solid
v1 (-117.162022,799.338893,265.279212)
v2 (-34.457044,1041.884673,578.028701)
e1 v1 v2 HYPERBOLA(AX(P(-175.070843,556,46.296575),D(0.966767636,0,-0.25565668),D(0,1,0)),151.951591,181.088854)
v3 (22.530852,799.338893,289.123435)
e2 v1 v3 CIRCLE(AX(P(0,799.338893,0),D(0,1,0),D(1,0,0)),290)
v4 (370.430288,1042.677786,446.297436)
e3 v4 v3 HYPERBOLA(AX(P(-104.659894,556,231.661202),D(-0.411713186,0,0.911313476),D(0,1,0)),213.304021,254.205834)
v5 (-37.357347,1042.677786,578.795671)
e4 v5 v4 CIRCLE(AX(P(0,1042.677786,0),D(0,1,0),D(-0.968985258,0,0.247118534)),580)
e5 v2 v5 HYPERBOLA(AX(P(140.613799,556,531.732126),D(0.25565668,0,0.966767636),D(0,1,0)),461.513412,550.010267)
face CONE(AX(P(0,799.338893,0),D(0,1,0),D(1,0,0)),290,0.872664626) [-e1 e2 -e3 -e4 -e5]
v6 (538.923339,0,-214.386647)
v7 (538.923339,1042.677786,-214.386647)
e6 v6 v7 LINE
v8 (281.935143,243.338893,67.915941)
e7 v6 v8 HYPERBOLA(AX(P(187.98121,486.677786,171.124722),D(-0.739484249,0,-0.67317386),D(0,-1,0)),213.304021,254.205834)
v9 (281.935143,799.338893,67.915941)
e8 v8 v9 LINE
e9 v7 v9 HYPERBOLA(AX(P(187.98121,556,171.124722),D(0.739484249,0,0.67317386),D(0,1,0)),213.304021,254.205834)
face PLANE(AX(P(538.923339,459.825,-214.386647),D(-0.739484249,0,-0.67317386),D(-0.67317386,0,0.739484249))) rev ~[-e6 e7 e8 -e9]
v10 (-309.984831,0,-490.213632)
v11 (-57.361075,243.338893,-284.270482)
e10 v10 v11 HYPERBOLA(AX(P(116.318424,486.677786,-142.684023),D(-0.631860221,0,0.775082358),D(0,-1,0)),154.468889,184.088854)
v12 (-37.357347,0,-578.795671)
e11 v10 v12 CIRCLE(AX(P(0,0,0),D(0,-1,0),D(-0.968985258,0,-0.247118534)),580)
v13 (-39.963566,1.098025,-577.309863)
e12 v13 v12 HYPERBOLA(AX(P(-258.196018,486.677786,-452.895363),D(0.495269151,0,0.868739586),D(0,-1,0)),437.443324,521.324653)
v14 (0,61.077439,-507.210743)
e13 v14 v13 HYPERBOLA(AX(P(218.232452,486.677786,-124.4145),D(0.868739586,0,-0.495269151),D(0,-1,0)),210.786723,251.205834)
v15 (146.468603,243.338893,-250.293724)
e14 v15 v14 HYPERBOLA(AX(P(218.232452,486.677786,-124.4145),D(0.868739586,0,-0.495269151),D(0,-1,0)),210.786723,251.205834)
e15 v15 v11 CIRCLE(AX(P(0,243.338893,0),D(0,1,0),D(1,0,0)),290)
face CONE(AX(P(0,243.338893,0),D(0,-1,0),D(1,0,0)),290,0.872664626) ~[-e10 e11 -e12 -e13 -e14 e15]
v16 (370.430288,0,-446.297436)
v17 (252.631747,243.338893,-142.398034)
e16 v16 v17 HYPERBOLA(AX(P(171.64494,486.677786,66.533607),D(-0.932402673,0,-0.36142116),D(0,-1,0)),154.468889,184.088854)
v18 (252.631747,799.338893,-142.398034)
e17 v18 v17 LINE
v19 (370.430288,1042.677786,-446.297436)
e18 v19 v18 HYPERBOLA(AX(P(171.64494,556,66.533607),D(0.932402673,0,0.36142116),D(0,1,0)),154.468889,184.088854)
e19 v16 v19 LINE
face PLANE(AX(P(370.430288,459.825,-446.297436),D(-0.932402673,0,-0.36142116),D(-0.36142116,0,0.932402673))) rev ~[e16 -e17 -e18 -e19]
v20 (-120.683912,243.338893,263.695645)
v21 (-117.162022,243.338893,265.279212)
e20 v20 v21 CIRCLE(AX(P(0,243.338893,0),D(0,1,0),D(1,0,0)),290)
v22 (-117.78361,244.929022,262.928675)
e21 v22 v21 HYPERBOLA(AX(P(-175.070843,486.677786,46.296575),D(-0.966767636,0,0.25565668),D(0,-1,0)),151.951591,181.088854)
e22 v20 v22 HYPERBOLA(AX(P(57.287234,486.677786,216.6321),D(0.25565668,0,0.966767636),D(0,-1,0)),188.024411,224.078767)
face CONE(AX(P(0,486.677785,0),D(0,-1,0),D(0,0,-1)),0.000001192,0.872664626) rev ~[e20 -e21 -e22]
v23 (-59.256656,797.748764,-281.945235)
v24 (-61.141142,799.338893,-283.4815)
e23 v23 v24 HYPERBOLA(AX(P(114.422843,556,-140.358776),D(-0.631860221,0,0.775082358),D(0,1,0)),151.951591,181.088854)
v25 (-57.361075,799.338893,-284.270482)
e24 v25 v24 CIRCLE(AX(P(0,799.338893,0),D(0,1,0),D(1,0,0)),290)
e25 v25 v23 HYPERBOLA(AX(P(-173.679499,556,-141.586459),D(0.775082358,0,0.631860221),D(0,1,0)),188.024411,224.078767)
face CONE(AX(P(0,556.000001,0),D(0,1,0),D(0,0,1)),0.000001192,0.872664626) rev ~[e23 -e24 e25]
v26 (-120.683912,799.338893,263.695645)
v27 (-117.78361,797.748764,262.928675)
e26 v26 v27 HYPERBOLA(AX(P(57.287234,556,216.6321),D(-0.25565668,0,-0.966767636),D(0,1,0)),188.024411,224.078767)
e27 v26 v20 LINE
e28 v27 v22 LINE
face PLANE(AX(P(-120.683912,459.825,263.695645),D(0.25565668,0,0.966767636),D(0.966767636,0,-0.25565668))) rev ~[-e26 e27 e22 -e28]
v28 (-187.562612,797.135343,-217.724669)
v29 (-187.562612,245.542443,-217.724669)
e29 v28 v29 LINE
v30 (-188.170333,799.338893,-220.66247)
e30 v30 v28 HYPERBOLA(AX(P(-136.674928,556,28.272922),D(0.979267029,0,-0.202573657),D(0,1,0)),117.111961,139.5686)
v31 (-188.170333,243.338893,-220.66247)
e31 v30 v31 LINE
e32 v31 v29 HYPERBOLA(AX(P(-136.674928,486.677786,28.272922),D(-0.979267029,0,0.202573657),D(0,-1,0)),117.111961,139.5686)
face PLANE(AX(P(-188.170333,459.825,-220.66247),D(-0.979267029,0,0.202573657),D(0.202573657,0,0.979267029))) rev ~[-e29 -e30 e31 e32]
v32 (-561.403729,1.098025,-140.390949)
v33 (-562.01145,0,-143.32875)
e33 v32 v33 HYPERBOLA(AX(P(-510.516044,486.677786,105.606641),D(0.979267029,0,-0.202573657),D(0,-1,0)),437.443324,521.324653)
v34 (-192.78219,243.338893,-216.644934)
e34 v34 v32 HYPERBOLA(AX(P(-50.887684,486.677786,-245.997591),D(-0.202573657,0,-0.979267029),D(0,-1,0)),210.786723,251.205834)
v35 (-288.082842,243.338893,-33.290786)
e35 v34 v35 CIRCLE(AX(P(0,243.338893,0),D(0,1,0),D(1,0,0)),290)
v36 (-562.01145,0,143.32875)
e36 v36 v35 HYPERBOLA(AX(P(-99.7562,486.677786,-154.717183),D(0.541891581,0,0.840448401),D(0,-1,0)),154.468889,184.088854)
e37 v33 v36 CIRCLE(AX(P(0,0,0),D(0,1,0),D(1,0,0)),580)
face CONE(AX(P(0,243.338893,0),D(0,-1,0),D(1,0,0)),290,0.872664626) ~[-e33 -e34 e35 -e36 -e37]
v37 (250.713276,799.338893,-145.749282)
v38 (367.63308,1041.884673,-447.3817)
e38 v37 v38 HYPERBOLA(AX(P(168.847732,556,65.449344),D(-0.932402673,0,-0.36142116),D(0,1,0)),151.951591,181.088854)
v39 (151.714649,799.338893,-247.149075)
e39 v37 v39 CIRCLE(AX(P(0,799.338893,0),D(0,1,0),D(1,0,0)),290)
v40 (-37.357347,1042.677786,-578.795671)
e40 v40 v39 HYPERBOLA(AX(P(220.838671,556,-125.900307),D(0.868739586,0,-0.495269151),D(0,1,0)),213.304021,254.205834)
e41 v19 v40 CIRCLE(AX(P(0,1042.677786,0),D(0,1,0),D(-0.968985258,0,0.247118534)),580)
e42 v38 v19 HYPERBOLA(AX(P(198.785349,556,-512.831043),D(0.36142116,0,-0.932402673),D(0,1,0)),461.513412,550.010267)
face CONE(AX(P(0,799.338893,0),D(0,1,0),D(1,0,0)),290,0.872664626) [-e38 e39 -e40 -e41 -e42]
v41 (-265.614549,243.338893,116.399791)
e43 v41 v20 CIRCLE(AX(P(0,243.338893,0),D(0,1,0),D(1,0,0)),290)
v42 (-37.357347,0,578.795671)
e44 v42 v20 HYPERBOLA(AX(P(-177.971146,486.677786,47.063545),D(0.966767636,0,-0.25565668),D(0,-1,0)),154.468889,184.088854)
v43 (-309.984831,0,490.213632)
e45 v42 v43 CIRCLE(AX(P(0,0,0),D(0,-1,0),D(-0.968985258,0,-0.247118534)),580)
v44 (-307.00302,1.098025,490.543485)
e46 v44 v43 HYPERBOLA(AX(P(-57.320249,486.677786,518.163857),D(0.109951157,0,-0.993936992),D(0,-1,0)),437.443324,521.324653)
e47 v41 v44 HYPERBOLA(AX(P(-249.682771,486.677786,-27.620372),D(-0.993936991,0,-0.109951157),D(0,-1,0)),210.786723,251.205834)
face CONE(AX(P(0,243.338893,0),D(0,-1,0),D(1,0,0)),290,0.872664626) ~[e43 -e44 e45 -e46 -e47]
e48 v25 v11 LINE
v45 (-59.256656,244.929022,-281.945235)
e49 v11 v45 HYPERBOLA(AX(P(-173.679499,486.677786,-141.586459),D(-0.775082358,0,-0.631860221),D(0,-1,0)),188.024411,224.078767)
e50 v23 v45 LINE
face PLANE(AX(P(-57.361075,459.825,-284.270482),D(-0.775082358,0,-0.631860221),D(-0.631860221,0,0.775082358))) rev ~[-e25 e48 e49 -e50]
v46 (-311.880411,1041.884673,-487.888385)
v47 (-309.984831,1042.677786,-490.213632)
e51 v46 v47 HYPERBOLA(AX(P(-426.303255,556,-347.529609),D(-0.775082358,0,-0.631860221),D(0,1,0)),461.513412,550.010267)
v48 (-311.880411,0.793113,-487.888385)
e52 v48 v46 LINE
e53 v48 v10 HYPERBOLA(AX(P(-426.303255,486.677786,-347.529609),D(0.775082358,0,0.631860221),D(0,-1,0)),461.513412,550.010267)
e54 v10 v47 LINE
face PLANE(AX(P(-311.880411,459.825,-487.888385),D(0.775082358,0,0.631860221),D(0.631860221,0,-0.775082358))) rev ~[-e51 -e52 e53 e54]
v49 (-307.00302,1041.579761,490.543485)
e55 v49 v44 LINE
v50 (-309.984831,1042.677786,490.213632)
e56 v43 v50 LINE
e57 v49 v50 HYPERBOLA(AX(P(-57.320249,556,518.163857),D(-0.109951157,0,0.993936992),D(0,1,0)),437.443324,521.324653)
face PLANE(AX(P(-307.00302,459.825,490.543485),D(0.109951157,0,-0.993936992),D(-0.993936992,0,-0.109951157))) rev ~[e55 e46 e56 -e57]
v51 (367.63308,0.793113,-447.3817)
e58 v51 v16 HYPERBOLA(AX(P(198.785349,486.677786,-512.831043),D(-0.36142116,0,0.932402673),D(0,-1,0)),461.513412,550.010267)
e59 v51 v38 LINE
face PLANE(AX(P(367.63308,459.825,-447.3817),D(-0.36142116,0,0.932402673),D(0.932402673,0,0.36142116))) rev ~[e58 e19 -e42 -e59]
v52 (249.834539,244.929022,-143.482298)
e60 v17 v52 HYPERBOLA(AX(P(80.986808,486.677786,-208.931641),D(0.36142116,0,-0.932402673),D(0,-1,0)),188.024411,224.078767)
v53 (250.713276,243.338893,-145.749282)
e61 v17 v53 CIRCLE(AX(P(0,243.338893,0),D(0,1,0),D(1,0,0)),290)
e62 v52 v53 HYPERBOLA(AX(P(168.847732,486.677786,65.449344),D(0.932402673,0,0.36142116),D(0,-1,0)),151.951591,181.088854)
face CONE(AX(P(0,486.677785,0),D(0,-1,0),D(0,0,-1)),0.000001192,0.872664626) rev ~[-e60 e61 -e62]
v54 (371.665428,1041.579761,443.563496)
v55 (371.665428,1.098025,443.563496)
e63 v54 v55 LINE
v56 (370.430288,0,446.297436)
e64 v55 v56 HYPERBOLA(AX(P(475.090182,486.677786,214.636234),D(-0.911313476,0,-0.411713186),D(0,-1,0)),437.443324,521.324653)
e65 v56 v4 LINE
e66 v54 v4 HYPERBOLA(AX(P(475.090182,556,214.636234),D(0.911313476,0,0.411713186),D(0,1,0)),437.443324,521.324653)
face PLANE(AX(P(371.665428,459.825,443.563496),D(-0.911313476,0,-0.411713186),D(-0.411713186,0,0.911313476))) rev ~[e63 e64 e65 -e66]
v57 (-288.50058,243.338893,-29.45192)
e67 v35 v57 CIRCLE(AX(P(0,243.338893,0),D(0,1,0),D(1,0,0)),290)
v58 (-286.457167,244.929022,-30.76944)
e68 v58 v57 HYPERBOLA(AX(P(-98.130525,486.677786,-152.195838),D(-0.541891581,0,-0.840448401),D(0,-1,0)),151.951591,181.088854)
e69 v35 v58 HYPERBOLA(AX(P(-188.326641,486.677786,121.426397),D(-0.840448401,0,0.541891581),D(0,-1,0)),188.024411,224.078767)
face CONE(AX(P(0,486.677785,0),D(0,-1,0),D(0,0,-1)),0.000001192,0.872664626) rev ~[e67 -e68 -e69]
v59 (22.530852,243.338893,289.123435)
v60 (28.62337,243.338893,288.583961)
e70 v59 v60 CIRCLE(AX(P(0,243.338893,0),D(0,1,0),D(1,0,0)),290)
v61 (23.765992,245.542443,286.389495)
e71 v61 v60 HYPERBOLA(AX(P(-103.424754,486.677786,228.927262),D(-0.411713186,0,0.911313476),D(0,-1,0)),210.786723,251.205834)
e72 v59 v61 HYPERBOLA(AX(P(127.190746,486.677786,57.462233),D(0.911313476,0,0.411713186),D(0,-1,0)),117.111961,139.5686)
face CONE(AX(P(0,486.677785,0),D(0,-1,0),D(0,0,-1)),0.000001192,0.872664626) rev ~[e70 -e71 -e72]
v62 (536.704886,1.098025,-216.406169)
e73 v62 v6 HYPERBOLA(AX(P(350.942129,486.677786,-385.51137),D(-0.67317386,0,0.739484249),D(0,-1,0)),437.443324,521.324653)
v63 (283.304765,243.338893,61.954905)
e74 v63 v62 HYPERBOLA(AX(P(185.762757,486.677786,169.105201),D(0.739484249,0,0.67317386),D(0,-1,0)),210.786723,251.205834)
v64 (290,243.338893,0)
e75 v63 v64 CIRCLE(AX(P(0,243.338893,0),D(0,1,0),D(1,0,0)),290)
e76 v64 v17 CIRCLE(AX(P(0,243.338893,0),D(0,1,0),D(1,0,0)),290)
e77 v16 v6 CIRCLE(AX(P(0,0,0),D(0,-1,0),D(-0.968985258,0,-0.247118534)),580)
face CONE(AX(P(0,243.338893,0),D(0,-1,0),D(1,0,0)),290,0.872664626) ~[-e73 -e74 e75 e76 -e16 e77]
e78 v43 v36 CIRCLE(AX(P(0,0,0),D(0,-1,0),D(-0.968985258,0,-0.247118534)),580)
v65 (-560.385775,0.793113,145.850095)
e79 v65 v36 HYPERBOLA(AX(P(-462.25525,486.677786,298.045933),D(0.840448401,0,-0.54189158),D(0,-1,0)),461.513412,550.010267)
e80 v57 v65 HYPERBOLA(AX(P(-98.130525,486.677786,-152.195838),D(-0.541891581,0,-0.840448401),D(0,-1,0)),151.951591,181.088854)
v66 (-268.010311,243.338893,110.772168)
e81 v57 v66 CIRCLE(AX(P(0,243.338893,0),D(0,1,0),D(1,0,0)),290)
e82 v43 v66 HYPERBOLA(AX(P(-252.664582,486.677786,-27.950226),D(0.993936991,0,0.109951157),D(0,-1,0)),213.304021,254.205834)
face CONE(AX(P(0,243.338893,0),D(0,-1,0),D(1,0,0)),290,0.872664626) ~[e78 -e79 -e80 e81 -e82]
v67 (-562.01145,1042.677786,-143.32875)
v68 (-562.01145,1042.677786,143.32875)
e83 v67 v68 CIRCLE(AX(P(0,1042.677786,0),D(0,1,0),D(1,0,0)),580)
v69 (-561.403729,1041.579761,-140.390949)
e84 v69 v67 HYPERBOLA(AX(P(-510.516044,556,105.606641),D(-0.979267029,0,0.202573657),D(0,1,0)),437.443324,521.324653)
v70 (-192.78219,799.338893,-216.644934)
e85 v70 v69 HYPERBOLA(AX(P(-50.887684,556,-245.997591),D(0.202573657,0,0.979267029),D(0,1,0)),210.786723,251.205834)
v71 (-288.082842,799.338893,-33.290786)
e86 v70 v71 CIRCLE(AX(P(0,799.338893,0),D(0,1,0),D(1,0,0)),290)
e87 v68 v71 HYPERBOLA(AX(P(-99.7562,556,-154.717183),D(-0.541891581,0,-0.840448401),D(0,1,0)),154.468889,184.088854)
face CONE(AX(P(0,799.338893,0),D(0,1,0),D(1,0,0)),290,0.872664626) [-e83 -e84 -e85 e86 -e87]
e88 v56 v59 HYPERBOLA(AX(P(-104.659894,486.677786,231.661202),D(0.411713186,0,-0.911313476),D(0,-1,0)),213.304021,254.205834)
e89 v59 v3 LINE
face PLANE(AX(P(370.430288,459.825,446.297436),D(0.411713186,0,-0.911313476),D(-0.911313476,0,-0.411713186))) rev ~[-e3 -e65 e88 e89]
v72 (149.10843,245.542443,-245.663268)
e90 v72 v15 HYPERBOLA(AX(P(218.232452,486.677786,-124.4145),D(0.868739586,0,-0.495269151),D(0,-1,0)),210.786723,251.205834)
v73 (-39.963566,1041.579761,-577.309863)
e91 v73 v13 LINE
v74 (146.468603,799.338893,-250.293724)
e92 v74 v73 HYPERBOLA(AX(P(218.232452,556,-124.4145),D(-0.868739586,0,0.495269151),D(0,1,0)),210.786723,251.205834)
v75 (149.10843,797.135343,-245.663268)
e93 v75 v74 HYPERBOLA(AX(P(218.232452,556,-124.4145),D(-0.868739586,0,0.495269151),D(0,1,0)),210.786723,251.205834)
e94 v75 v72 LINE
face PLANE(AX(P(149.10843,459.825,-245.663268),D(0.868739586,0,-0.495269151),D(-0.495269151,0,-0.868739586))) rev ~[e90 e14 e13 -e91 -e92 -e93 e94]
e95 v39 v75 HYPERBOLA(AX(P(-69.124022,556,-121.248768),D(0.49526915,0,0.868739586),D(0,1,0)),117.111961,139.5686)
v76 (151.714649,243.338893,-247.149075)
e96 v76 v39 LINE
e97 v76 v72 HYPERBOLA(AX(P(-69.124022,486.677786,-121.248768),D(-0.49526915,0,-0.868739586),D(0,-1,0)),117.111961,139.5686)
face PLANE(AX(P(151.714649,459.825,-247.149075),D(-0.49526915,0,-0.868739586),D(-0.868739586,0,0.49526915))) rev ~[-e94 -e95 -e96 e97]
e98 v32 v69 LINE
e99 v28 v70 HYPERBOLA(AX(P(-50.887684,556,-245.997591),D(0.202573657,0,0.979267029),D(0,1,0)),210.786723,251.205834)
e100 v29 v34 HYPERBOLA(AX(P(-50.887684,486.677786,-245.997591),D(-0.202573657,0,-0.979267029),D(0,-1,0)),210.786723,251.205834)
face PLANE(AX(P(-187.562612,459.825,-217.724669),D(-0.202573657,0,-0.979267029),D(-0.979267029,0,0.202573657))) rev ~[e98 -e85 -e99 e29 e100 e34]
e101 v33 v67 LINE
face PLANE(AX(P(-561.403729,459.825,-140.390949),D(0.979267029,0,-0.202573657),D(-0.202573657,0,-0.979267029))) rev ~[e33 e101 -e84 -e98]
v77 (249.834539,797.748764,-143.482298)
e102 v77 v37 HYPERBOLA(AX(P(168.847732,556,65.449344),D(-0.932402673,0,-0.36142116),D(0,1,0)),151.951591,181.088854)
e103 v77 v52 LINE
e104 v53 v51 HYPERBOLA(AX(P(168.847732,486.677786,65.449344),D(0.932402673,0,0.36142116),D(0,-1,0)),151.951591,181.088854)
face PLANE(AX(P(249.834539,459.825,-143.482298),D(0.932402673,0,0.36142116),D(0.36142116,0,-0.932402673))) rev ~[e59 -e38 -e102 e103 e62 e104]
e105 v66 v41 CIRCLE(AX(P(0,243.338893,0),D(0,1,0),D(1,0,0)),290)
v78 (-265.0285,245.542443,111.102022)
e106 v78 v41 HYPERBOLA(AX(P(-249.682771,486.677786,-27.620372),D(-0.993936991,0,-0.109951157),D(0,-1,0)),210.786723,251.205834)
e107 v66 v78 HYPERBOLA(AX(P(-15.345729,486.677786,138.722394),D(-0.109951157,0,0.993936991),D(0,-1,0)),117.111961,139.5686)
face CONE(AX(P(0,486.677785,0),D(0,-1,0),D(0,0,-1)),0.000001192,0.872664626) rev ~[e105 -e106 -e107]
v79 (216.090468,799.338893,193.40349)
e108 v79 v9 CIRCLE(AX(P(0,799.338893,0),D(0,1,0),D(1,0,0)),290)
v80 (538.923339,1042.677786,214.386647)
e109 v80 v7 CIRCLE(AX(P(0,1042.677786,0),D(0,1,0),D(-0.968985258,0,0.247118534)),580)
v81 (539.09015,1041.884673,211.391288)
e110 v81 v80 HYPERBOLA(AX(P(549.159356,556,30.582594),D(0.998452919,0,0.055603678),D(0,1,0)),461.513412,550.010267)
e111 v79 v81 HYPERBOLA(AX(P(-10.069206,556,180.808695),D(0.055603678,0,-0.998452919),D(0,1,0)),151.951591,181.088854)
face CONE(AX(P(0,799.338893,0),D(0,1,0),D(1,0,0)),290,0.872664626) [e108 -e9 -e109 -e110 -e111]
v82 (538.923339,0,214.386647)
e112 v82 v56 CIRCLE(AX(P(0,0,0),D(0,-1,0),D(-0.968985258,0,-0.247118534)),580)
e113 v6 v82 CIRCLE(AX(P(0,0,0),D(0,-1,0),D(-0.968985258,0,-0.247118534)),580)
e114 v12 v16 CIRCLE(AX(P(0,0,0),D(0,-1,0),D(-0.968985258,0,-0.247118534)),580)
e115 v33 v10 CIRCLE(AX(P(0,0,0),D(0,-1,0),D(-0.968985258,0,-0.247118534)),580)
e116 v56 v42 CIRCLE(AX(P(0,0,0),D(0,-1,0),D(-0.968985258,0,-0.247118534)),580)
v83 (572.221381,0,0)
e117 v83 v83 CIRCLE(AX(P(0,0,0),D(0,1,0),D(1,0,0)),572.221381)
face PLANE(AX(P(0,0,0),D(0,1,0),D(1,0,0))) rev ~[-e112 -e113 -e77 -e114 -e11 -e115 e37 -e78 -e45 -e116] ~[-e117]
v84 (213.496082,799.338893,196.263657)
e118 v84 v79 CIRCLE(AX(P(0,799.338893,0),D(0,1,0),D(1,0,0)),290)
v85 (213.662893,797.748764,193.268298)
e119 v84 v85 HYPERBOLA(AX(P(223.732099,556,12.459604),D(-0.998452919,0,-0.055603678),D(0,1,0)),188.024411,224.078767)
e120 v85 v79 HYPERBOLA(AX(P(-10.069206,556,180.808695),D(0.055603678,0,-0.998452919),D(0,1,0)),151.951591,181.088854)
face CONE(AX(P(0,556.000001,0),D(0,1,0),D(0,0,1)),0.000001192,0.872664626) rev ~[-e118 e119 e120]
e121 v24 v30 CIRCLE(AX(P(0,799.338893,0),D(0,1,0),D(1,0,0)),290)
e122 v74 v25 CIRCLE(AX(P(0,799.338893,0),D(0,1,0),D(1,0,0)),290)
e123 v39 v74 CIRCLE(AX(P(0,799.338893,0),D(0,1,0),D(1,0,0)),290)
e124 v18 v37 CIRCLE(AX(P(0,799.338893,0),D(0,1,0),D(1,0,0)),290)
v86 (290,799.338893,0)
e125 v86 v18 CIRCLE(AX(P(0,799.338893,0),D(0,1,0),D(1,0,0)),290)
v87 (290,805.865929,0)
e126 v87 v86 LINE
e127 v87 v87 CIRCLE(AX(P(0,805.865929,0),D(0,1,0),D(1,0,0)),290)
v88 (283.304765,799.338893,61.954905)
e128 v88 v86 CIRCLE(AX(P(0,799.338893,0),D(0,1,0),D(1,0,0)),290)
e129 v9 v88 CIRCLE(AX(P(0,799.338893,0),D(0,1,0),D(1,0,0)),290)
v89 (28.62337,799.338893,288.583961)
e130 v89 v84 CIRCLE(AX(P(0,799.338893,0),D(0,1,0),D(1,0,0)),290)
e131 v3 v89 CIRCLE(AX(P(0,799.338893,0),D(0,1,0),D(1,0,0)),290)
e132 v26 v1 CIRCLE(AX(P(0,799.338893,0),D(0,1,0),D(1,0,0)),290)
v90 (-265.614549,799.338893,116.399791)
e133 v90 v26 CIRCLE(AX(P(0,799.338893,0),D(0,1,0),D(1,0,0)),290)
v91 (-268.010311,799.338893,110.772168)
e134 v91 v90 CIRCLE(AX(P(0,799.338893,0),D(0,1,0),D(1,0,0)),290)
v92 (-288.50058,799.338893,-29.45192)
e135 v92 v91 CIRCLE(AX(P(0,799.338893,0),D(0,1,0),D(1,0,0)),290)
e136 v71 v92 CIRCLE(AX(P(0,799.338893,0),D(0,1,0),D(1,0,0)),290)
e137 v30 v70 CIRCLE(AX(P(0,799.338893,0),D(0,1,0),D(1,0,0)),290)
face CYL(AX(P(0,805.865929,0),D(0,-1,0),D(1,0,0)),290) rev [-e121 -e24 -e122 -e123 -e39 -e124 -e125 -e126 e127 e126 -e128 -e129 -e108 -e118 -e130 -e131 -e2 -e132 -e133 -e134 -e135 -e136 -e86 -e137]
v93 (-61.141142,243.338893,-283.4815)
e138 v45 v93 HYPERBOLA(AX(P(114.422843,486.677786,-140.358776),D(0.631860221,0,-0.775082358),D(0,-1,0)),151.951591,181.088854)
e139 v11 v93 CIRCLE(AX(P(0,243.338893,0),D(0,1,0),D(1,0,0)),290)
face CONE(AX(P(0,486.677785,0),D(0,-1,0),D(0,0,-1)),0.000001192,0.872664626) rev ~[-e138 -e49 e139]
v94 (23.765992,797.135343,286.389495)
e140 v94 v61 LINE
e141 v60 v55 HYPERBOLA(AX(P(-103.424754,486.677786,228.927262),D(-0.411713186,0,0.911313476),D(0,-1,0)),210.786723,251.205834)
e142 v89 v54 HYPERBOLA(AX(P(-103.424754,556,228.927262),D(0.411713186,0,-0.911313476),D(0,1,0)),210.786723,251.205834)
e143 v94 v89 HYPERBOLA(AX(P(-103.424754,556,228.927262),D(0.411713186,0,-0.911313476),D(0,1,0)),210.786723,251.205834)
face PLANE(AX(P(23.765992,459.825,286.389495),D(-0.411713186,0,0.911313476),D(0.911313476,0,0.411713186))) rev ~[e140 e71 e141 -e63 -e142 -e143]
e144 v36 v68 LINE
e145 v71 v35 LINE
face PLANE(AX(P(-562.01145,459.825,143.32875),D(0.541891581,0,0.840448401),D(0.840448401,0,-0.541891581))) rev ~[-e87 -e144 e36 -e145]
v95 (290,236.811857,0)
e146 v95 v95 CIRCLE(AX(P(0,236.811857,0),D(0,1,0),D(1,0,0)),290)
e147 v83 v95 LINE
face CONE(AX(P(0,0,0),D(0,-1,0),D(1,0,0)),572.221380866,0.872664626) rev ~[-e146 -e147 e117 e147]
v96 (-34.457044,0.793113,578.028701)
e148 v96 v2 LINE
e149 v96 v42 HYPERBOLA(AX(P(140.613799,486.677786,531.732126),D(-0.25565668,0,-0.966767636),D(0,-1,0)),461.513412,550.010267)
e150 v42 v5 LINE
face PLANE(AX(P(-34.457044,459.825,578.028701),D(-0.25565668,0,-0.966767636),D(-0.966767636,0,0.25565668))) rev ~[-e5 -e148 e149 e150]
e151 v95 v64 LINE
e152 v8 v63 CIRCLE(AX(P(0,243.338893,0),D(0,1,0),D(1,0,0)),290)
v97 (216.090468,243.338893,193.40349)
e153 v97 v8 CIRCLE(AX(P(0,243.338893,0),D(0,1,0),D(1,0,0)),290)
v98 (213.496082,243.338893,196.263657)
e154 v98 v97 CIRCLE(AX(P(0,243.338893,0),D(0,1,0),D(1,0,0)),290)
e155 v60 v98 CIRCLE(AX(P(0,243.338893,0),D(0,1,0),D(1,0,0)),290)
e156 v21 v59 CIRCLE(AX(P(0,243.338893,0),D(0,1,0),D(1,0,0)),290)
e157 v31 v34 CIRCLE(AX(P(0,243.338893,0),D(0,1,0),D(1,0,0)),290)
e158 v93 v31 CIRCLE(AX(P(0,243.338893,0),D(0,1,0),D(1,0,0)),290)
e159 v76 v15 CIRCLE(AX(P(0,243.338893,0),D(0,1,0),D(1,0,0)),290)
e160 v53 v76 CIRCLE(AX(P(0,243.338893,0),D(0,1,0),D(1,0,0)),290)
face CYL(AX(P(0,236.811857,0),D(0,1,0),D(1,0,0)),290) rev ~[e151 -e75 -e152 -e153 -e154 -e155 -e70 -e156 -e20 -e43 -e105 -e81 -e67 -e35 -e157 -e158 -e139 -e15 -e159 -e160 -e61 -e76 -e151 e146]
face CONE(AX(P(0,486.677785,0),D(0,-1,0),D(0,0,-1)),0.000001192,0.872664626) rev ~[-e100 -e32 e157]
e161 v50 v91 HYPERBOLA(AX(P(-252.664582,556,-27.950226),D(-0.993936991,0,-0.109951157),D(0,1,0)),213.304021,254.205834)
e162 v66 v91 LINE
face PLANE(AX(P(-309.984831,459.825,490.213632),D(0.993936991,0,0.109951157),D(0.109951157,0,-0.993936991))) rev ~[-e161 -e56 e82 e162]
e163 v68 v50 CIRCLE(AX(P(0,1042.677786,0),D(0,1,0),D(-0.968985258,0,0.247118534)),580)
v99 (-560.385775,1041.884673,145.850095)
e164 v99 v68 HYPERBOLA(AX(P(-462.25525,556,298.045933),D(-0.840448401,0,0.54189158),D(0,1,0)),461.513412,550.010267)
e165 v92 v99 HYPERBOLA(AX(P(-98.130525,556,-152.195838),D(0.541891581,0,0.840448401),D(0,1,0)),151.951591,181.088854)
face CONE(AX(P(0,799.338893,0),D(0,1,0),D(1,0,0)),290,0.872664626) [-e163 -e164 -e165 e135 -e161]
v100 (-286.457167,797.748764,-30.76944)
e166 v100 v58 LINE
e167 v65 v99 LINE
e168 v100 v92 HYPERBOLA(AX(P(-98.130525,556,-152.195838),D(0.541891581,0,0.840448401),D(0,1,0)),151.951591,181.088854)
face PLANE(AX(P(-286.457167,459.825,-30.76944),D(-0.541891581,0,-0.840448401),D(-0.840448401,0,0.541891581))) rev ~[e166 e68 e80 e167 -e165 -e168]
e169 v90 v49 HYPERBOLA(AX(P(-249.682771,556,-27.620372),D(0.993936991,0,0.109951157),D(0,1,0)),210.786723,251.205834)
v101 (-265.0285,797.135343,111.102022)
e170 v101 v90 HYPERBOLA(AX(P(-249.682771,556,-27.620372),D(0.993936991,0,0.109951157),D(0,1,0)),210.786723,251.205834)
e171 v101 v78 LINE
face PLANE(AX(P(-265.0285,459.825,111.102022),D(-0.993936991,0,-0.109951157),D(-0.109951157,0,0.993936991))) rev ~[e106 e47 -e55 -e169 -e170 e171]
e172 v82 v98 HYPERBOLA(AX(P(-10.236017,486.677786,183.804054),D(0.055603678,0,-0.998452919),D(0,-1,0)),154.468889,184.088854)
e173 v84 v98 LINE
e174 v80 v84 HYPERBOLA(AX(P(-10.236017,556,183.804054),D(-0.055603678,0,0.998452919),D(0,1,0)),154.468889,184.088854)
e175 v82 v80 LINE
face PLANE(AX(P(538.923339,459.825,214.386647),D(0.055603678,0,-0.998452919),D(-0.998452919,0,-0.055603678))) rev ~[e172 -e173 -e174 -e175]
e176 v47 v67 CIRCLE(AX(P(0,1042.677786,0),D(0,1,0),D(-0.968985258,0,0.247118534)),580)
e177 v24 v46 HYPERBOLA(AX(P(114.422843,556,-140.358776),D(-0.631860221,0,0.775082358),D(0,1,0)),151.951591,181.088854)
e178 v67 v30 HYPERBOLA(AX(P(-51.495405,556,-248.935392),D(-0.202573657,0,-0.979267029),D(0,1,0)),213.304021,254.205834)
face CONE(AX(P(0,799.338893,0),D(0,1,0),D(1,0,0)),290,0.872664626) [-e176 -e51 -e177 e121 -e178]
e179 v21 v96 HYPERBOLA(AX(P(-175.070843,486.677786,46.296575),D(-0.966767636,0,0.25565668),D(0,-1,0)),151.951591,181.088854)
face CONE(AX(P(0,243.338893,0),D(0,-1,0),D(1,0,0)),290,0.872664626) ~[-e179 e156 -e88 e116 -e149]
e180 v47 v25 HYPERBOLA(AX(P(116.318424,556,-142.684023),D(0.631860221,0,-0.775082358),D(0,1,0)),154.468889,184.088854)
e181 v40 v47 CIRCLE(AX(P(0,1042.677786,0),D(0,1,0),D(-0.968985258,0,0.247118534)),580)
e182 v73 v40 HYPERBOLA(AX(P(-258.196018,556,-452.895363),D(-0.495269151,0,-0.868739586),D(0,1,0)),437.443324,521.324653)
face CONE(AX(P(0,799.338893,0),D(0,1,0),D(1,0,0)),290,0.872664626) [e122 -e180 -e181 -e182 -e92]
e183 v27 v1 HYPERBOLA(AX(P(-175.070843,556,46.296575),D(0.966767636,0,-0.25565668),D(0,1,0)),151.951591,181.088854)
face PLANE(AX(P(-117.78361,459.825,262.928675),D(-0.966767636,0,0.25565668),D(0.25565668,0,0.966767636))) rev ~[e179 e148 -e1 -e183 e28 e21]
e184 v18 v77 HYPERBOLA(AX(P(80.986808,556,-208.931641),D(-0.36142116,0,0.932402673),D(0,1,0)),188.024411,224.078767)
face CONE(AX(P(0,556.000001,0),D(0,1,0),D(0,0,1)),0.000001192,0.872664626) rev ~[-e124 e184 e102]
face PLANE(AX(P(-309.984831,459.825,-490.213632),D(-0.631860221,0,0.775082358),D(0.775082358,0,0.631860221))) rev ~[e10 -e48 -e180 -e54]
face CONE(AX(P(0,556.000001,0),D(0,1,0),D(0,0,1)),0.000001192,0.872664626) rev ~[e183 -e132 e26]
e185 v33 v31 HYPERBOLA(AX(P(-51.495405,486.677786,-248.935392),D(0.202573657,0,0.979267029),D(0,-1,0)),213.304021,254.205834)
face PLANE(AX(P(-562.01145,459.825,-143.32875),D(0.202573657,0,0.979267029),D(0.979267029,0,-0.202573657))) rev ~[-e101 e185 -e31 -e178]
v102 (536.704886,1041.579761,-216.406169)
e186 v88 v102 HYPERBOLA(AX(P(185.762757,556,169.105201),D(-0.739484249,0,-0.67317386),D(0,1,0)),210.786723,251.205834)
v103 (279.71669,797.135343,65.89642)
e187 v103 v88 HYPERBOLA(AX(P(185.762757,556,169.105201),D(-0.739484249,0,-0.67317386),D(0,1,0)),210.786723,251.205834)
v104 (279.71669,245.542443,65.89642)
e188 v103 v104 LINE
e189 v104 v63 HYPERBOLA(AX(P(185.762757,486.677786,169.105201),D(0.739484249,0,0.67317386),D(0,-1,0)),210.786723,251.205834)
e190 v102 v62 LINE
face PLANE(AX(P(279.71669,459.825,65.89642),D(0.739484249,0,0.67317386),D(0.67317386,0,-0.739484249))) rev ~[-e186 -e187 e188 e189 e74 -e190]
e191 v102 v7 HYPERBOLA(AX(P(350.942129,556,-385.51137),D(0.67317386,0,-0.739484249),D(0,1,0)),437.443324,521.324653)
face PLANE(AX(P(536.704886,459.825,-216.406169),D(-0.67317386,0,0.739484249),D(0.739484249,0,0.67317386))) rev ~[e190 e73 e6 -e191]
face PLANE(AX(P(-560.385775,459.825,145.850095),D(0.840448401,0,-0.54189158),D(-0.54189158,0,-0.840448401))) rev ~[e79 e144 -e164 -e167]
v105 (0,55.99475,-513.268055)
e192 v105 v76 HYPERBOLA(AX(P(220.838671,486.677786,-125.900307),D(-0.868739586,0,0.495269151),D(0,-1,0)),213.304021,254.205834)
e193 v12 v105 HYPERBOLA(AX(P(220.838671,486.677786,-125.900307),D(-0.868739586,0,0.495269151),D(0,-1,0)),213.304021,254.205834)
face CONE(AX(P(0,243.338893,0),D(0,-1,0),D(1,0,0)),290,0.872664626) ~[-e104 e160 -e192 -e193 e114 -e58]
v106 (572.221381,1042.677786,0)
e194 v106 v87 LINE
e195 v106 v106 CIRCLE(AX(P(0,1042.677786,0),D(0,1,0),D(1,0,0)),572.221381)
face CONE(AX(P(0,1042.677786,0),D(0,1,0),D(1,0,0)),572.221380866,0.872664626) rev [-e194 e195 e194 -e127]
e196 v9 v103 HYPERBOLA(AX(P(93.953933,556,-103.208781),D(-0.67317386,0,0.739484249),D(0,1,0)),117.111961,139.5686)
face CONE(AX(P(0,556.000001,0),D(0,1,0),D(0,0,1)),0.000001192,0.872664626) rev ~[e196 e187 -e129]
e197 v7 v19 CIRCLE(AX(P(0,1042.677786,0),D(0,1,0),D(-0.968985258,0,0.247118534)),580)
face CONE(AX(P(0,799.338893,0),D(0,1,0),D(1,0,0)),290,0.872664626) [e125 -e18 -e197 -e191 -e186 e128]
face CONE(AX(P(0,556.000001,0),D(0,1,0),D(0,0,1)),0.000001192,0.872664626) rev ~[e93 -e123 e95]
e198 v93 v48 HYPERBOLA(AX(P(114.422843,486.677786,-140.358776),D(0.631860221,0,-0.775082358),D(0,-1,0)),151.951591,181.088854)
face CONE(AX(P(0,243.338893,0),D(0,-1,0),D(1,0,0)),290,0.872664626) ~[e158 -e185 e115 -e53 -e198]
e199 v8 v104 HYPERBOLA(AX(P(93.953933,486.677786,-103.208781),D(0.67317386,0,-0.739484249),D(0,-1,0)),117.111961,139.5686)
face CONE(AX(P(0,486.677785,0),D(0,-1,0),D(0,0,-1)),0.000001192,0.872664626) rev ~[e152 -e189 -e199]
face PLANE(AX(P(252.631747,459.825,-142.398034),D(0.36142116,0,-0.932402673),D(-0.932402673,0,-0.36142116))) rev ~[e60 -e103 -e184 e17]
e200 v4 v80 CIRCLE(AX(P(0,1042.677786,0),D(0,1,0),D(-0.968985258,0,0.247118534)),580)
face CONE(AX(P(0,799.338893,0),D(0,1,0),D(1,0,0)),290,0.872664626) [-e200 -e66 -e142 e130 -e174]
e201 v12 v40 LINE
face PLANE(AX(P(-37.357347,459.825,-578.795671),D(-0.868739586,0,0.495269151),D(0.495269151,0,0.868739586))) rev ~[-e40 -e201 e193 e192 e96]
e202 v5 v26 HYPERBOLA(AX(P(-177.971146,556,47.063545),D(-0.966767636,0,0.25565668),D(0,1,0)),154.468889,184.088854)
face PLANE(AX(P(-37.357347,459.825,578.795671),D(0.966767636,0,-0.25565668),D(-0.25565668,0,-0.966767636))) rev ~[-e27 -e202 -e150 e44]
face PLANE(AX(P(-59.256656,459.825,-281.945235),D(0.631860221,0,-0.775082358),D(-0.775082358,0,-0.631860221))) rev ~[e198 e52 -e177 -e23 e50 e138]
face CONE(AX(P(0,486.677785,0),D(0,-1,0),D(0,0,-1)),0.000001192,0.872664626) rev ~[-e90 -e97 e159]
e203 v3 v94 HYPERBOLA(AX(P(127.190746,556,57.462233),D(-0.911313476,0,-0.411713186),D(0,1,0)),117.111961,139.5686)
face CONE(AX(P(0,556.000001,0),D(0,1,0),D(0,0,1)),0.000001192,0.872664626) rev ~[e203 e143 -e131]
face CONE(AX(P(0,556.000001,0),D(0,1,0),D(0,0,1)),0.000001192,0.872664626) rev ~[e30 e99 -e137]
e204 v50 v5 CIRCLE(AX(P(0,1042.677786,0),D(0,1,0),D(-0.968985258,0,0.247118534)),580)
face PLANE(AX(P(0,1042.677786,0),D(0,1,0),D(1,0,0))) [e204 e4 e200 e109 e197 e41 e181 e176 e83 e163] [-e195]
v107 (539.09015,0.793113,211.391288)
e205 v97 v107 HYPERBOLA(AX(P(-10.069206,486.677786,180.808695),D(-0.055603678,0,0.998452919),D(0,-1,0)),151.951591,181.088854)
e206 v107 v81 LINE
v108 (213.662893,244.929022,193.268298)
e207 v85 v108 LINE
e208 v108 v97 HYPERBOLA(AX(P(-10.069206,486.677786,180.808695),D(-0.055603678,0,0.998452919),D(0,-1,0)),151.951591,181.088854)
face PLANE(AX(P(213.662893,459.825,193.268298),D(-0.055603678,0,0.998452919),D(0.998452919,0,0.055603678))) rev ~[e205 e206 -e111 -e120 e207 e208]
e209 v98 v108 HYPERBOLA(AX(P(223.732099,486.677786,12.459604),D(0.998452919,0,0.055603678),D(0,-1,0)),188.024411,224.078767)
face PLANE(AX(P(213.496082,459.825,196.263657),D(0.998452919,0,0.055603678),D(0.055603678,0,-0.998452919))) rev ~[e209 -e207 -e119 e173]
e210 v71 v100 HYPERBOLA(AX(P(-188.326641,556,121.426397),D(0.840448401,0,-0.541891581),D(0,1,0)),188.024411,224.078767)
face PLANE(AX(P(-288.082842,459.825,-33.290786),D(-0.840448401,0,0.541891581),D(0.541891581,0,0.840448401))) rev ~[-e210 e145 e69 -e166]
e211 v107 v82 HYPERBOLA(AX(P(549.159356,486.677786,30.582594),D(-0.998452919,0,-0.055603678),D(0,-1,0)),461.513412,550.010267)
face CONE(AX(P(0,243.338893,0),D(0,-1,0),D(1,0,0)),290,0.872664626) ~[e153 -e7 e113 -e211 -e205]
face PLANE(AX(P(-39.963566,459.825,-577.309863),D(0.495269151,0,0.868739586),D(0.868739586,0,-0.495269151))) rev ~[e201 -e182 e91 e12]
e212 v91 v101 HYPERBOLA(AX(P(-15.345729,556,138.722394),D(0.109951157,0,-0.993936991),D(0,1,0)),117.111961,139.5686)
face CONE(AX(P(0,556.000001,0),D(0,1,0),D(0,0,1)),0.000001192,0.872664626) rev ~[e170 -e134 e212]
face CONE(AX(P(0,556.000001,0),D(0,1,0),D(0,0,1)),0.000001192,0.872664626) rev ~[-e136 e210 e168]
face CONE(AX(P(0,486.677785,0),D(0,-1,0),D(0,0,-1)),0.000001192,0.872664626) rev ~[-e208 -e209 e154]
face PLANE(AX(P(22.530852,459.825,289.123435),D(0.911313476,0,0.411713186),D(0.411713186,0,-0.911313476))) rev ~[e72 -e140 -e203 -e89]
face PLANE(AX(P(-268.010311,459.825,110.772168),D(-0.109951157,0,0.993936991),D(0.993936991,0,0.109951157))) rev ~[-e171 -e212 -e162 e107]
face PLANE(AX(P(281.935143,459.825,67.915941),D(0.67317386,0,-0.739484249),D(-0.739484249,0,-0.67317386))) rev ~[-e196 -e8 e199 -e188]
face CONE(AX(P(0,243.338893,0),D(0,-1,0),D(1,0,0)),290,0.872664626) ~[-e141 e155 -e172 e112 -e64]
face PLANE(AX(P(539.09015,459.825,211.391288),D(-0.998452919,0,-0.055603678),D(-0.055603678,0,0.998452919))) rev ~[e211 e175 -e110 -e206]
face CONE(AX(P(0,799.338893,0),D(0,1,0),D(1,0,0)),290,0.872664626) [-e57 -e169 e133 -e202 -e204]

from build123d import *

# Parameters (mm, degrees)
SALIENTE_EXTRUIR1_REACH             = 1008.239
SALIENTE_EXTRUIR1_DIRECTION_2_REACH = 1008.239


with BuildPart() as part:
    # Croquis2 → Revolución1 (revolve)
    with BuildSketch(Plane.XY, mode=Mode.PRIVATE) as revoluci_n1_sk:
        Polygon((-572.221380866, 0), (-290, 236.811856595), (-290, 243.338893041), (-580, 0), align=None)
        Polygon((-290, 799.338893041), (-580, 1042.677786083), (-572.221380866, 1042.677786083), (-290, 805.865929488), align=None)
    revolve(revoluci_n1_sk.sketch.rotate(Axis((0, 243.338893041, 0), (0, 1, 0)), 180), axis=Axis((0, 243.338893041, 0), (0, 1, 0)))

    # Saliente-Extruir1: up to this cone (the profile starts outside it)
    saliente_extruir1_end = Plane(origin=(0, 459.825, 0), z_dir=(0, 1, 0)).offset(96.175001) * Cone(1.192e-06, 1087.551425472, 912.563999, align=(Align.CENTER, Align.CENTER, Align.MIN), mode=Mode.PRIVATE)
    # Croquis3 → Saliente-Extruir1 (add, up to the surface)
    with BuildSketch(Plane(origin=(0, 459.825, 0), x_dir=(1, 0, 0), z_dir=(0, 1, 0)), mode=Mode.PRIVATE) as saliente_extruir1_sk1:
        Polygon((-562.011449548, 143.32875), (-188.170333372, 220.662469937), (-187.562612401, 217.724668851), (-561.403728577, 140.390948914), align=None)
    saliente_extruir1_tool1 = extrude(saliente_extruir1_sk1.sketch, amount=SALIENTE_EXTRUIR1_REACH, mode=Mode.PRIVATE) - saliente_extruir1_end
    add(saliente_extruir1_tool1.solids().sort_by_distance((-374.787031, 459.825, -180.526709))[0])
    # Croquis3 → Saliente-Extruir1 (add, up to the surface)
    with BuildSketch(Plane(origin=(0, 459.825, 0), x_dir=(1, 0, 0), z_dir=(0, 1, 0)), mode=Mode.PRIVATE) as saliente_extruir1_sk2:
        Polygon((-562.011449548, -143.32875), (-288.082841539, 33.290785673), (-286.457166797, 30.76944047), (-560.385774807, -145.850095203), align=None)
    saliente_extruir1_tool2 = extrude(saliente_extruir1_sk2.sketch, amount=SALIENTE_EXTRUIR1_REACH, mode=Mode.PRIVATE) - saliente_extruir1_end
    add(saliente_extruir1_tool2.solids().sort_by_distance((-424.234308, 459.825, 56.279655))[0])
    # Croquis3 → Saliente-Extruir1 (add, up to the surface)
    with BuildSketch(Plane(origin=(0, 459.825, 0), x_dir=(1, 0, 0), z_dir=(0, 1, 0)), mode=Mode.PRIVATE) as saliente_extruir1_sk3:
        Polygon((151.714649086, 247.149074958), (149.108430327, 245.663267507), (-39.963566042, 577.309863406), (-37.357347284, 578.795670858), align=None)
    saliente_extruir1_tool3 = extrude(saliente_extruir1_sk3.sketch, amount=SALIENTE_EXTRUIR1_REACH, mode=Mode.PRIVATE) - saliente_extruir1_end
    add(saliente_extruir1_tool3.solids().sort_by_distance((55.875542, 459.825, -412.229469))[0])
    # Croquis3 → Saliente-Extruir1 (add, up to the surface)
    with BuildSketch(Plane(origin=(0, 459.825, 0), x_dir=(1, 0, 0), z_dir=(0, 1, 0)), mode=Mode.PRIVATE) as saliente_extruir1_sk4:
        Polygon((-309.984830604, 490.213631793), (-57.361075176, 284.270482208), (-59.256655839, 281.945235135), (-311.880411267, 487.88838472), align=None)
    saliente_extruir1_tool4 = extrude(saliente_extruir1_sk4.sketch, amount=SALIENTE_EXTRUIR1_REACH, mode=Mode.PRIVATE) - saliente_extruir1_end
    add(saliente_extruir1_tool4.solids().sort_by_distance((-184.620743, 459.825, -386.079433))[0])
    # Croquis3 → Saliente-Extruir1 (add, up to the surface)
    with BuildSketch(Plane(origin=(0, 459.825, 0), x_dir=(1, 0, 0), z_dir=(0, 1, 0)), mode=Mode.PRIVATE) as saliente_extruir1_sk5:
        Polygon((281.935143099, -67.915941324), (279.716690352, -65.896419744), (536.704886451, 216.406168711), (538.923339197, 214.386647132), align=None)
    saliente_extruir1_tool5 = extrude(saliente_extruir1_sk5.sketch, amount=SALIENTE_EXTRUIR1_REACH, mode=Mode.PRIVATE) - saliente_extruir1_end
    add(saliente_extruir1_tool5.solids().sort_by_distance((409.320015, 459.825, -74.245114))[0])
    # Croquis3 → Saliente-Extruir1 (add, up to the surface)
    with BuildSketch(Plane(origin=(0, 459.825, 0), x_dir=(1, 0, 0), z_dir=(0, 1, 0)), mode=Mode.PRIVATE) as saliente_extruir1_sk6:
        Polygon((370.430288238, 446.297436197), (252.631747449, 142.398034329), (249.834539429, 143.482297809), (367.633080219, 447.381699677), align=None)
    saliente_extruir1_tool6 = extrude(saliente_extruir1_sk6.sketch, amount=SALIENTE_EXTRUIR1_REACH, mode=Mode.PRIVATE) - saliente_extruir1_end
    add(saliente_extruir1_tool6.solids().sort_by_distance((310.132414, 459.825, -294.889867))[0])
    # Croquis3 → Saliente-Extruir1 (add, up to the surface)
    with BuildSketch(Plane(origin=(0, 459.825, 0), x_dir=(1, 0, 0), z_dir=(0, 1, 0)), mode=Mode.PRIVATE) as saliente_extruir1_sk7:
        Polygon((22.530851972, -289.123435075), (23.765991531, -286.389494645), (371.665427797, -443.563495767), (370.430288238, -446.297436197), align=None)
    saliente_extruir1_tool7 = extrude(saliente_extruir1_sk7.sketch, amount=SALIENTE_EXTRUIR1_REACH, mode=Mode.PRIVATE) - saliente_extruir1_end
    add(saliente_extruir1_tool7.solids().sort_by_distance((197.09814, 459.825, 366.343465))[0])
    # Croquis3 → Saliente-Extruir1 (add, up to the surface)
    with BuildSketch(Plane(origin=(0, 459.825, 0), x_dir=(1, 0, 0), z_dir=(0, 1, 0)), mode=Mode.PRIVATE) as saliente_extruir1_sk8:
        Polygon((538.923339197, -214.386647132), (213.496081737, -196.263657061), (213.66289277, -193.268298305), (539.09015023, -211.391288375), align=None)
    saliente_extruir1_tool8 = extrude(saliente_extruir1_sk8.sketch, amount=SALIENTE_EXTRUIR1_REACH, mode=Mode.PRIVATE) - saliente_extruir1_end
    add(saliente_extruir1_tool8.solids().sort_by_distance((376.293116, 459.825, 203.827473))[0])
    # Croquis3 → Saliente-Extruir1 (add, up to the surface)
    with BuildSketch(Plane(origin=(0, 459.825, 0), x_dir=(1, 0, 0), z_dir=(0, 1, 0)), mode=Mode.PRIVATE) as saliente_extruir1_sk9:
        Polygon((-268.010310784, -110.772168496), (-265.02849981, -111.102021968), (-307.003019629, -490.543485264), (-309.984830604, -490.213631793), align=None)
    saliente_extruir1_tool9 = extrude(saliente_extruir1_sk9.sketch, amount=SALIENTE_EXTRUIR1_REACH, mode=Mode.PRIVATE) - saliente_extruir1_end
    add(saliente_extruir1_tool9.solids().sort_by_distance((-287.506665, 459.825, 300.657827))[0])
    # Croquis3 → Saliente-Extruir1 (add, up to the surface)
    with BuildSketch(Plane(origin=(0, 459.825, 0), x_dir=(1, 0, 0), z_dir=(0, 1, 0)), mode=Mode.PRIVATE) as saliente_extruir1_sk10:
        Polygon((-37.357347284, -578.795670858), (-120.683912471, -263.695645149), (-117.783609563, -262.928675109), (-34.457044376, -578.028700818), align=None)
    saliente_extruir1_tool10 = extrude(saliente_extruir1_sk10.sketch, amount=SALIENTE_EXTRUIR1_REACH, mode=Mode.PRIVATE) - saliente_extruir1_end
    add(saliente_extruir1_tool10.solids().sort_by_distance((-77.570478, 459.825, 420.862173))[0])

    # Saliente-Extruir1 direction 2: up to this cone (the profile starts outside it)
    saliente_extruir1_direction_2_end = Plane(origin=(0, 459.825, 0), z_dir=(0, -1, 0)).offset(-26.852785083) * Cone(1.192e-06, 1272.308615927, 1067.593689368, align=(Align.CENTER, Align.CENTER, Align.MIN), mode=Mode.PRIVATE)
    # Croquis3 → Saliente-Extruir1 direction 2 (add, up to the surface)
    with BuildSketch(Plane(origin=(0, 459.825, 0), x_dir=(1, 0, 0), z_dir=(0, 1, 0)), mode=Mode.PRIVATE) as saliente_extruir1_direction_2_sk1:
        Polygon((-562.011449548, 143.32875), (-188.170333372, 220.662469937), (-187.562612401, 217.724668851), (-561.403728577, 140.390948914), align=None)
    saliente_extruir1_direction_2_tool1 = extrude(saliente_extruir1_direction_2_sk1.sketch, amount=-SALIENTE_EXTRUIR1_DIRECTION_2_REACH, mode=Mode.PRIVATE) - saliente_extruir1_direction_2_end
    add(saliente_extruir1_direction_2_tool1.solids().sort_by_distance((-374.787031, 459.825, -180.526709))[0])
    # Croquis3 → Saliente-Extruir1 direction 2 (add, up to the surface)
    with BuildSketch(Plane(origin=(0, 459.825, 0), x_dir=(1, 0, 0), z_dir=(0, 1, 0)), mode=Mode.PRIVATE) as saliente_extruir1_direction_2_sk2:
        Polygon((-562.011449548, -143.32875), (-288.082841539, 33.290785673), (-286.457166797, 30.76944047), (-560.385774807, -145.850095203), align=None)
    saliente_extruir1_direction_2_tool2 = extrude(saliente_extruir1_direction_2_sk2.sketch, amount=-SALIENTE_EXTRUIR1_DIRECTION_2_REACH, mode=Mode.PRIVATE) - saliente_extruir1_direction_2_end
    add(saliente_extruir1_direction_2_tool2.solids().sort_by_distance((-424.234308, 459.825, 56.279655))[0])
    # Croquis3 → Saliente-Extruir1 direction 2 (add, up to the surface)
    with BuildSketch(Plane(origin=(0, 459.825, 0), x_dir=(1, 0, 0), z_dir=(0, 1, 0)), mode=Mode.PRIVATE) as saliente_extruir1_direction_2_sk3:
        Polygon((151.714649086, 247.149074958), (149.108430327, 245.663267507), (-39.963566042, 577.309863406), (-37.357347284, 578.795670858), align=None)
    saliente_extruir1_direction_2_tool3 = extrude(saliente_extruir1_direction_2_sk3.sketch, amount=-SALIENTE_EXTRUIR1_DIRECTION_2_REACH, mode=Mode.PRIVATE) - saliente_extruir1_direction_2_end
    add(saliente_extruir1_direction_2_tool3.solids().sort_by_distance((55.875542, 459.825, -412.229469))[0])
    # Croquis3 → Saliente-Extruir1 direction 2 (add, up to the surface)
    with BuildSketch(Plane(origin=(0, 459.825, 0), x_dir=(1, 0, 0), z_dir=(0, 1, 0)), mode=Mode.PRIVATE) as saliente_extruir1_direction_2_sk4:
        Polygon((-309.984830604, 490.213631793), (-57.361075176, 284.270482208), (-59.256655839, 281.945235135), (-311.880411267, 487.88838472), align=None)
    saliente_extruir1_direction_2_tool4 = extrude(saliente_extruir1_direction_2_sk4.sketch, amount=-SALIENTE_EXTRUIR1_DIRECTION_2_REACH, mode=Mode.PRIVATE) - saliente_extruir1_direction_2_end
    add(saliente_extruir1_direction_2_tool4.solids().sort_by_distance((-184.620743, 459.825, -386.079433))[0])
    # Croquis3 → Saliente-Extruir1 direction 2 (add, up to the surface)
    with BuildSketch(Plane(origin=(0, 459.825, 0), x_dir=(1, 0, 0), z_dir=(0, 1, 0)), mode=Mode.PRIVATE) as saliente_extruir1_direction_2_sk5:
        Polygon((281.935143099, -67.915941324), (279.716690352, -65.896419744), (536.704886451, 216.406168711), (538.923339197, 214.386647132), align=None)
    saliente_extruir1_direction_2_tool5 = extrude(saliente_extruir1_direction_2_sk5.sketch, amount=-SALIENTE_EXTRUIR1_DIRECTION_2_REACH, mode=Mode.PRIVATE) - saliente_extruir1_direction_2_end
    add(saliente_extruir1_direction_2_tool5.solids().sort_by_distance((409.320015, 459.825, -74.245114))[0])
    # Croquis3 → Saliente-Extruir1 direction 2 (add, up to the surface)
    with BuildSketch(Plane(origin=(0, 459.825, 0), x_dir=(1, 0, 0), z_dir=(0, 1, 0)), mode=Mode.PRIVATE) as saliente_extruir1_direction_2_sk6:
        Polygon((370.430288238, 446.297436197), (252.631747449, 142.398034329), (249.834539429, 143.482297809), (367.633080219, 447.381699677), align=None)
    saliente_extruir1_direction_2_tool6 = extrude(saliente_extruir1_direction_2_sk6.sketch, amount=-SALIENTE_EXTRUIR1_DIRECTION_2_REACH, mode=Mode.PRIVATE) - saliente_extruir1_direction_2_end
    add(saliente_extruir1_direction_2_tool6.solids().sort_by_distance((310.132414, 459.825, -294.889867))[0])
    # Croquis3 → Saliente-Extruir1 direction 2 (add, up to the surface)
    with BuildSketch(Plane(origin=(0, 459.825, 0), x_dir=(1, 0, 0), z_dir=(0, 1, 0)), mode=Mode.PRIVATE) as saliente_extruir1_direction_2_sk7:
        Polygon((22.530851972, -289.123435075), (23.765991531, -286.389494645), (371.665427797, -443.563495767), (370.430288238, -446.297436197), align=None)
    saliente_extruir1_direction_2_tool7 = extrude(saliente_extruir1_direction_2_sk7.sketch, amount=-SALIENTE_EXTRUIR1_DIRECTION_2_REACH, mode=Mode.PRIVATE) - saliente_extruir1_direction_2_end
    add(saliente_extruir1_direction_2_tool7.solids().sort_by_distance((197.09814, 459.825, 366.343465))[0])
    # Croquis3 → Saliente-Extruir1 direction 2 (add, up to the surface)
    with BuildSketch(Plane(origin=(0, 459.825, 0), x_dir=(1, 0, 0), z_dir=(0, 1, 0)), mode=Mode.PRIVATE) as saliente_extruir1_direction_2_sk8:
        Polygon((538.923339197, -214.386647132), (213.496081737, -196.263657061), (213.66289277, -193.268298305), (539.09015023, -211.391288375), align=None)
    saliente_extruir1_direction_2_tool8 = extrude(saliente_extruir1_direction_2_sk8.sketch, amount=-SALIENTE_EXTRUIR1_DIRECTION_2_REACH, mode=Mode.PRIVATE) - saliente_extruir1_direction_2_end
    add(saliente_extruir1_direction_2_tool8.solids().sort_by_distance((376.293116, 459.825, 203.827473))[0])
    # Croquis3 → Saliente-Extruir1 direction 2 (add, up to the surface)
    with BuildSketch(Plane(origin=(0, 459.825, 0), x_dir=(1, 0, 0), z_dir=(0, 1, 0)), mode=Mode.PRIVATE) as saliente_extruir1_direction_2_sk9:
        Polygon((-268.010310784, -110.772168496), (-265.02849981, -111.102021968), (-307.003019629, -490.543485264), (-309.984830604, -490.213631793), align=None)
    saliente_extruir1_direction_2_tool9 = extrude(saliente_extruir1_direction_2_sk9.sketch, amount=-SALIENTE_EXTRUIR1_DIRECTION_2_REACH, mode=Mode.PRIVATE) - saliente_extruir1_direction_2_end
    add(saliente_extruir1_direction_2_tool9.solids().sort_by_distance((-287.506665, 459.825, 300.657827))[0])
    # Croquis3 → Saliente-Extruir1 direction 2 (add, up to the surface)
    with BuildSketch(Plane(origin=(0, 459.825, 0), x_dir=(1, 0, 0), z_dir=(0, 1, 0)), mode=Mode.PRIVATE) as saliente_extruir1_direction_2_sk10:
        Polygon((-37.357347284, -578.795670858), (-120.683912471, -263.695645149), (-117.783609563, -262.928675109), (-34.457044376, -578.028700818), align=None)
    saliente_extruir1_direction_2_tool10 = extrude(saliente_extruir1_direction_2_sk10.sketch, amount=-SALIENTE_EXTRUIR1_DIRECTION_2_REACH, mode=Mode.PRIVATE) - saliente_extruir1_direction_2_end
    add(saliente_extruir1_direction_2_tool10.solids().sort_by_distance((-77.570478, 459.825, 420.862173))[0])


solid = part.part
